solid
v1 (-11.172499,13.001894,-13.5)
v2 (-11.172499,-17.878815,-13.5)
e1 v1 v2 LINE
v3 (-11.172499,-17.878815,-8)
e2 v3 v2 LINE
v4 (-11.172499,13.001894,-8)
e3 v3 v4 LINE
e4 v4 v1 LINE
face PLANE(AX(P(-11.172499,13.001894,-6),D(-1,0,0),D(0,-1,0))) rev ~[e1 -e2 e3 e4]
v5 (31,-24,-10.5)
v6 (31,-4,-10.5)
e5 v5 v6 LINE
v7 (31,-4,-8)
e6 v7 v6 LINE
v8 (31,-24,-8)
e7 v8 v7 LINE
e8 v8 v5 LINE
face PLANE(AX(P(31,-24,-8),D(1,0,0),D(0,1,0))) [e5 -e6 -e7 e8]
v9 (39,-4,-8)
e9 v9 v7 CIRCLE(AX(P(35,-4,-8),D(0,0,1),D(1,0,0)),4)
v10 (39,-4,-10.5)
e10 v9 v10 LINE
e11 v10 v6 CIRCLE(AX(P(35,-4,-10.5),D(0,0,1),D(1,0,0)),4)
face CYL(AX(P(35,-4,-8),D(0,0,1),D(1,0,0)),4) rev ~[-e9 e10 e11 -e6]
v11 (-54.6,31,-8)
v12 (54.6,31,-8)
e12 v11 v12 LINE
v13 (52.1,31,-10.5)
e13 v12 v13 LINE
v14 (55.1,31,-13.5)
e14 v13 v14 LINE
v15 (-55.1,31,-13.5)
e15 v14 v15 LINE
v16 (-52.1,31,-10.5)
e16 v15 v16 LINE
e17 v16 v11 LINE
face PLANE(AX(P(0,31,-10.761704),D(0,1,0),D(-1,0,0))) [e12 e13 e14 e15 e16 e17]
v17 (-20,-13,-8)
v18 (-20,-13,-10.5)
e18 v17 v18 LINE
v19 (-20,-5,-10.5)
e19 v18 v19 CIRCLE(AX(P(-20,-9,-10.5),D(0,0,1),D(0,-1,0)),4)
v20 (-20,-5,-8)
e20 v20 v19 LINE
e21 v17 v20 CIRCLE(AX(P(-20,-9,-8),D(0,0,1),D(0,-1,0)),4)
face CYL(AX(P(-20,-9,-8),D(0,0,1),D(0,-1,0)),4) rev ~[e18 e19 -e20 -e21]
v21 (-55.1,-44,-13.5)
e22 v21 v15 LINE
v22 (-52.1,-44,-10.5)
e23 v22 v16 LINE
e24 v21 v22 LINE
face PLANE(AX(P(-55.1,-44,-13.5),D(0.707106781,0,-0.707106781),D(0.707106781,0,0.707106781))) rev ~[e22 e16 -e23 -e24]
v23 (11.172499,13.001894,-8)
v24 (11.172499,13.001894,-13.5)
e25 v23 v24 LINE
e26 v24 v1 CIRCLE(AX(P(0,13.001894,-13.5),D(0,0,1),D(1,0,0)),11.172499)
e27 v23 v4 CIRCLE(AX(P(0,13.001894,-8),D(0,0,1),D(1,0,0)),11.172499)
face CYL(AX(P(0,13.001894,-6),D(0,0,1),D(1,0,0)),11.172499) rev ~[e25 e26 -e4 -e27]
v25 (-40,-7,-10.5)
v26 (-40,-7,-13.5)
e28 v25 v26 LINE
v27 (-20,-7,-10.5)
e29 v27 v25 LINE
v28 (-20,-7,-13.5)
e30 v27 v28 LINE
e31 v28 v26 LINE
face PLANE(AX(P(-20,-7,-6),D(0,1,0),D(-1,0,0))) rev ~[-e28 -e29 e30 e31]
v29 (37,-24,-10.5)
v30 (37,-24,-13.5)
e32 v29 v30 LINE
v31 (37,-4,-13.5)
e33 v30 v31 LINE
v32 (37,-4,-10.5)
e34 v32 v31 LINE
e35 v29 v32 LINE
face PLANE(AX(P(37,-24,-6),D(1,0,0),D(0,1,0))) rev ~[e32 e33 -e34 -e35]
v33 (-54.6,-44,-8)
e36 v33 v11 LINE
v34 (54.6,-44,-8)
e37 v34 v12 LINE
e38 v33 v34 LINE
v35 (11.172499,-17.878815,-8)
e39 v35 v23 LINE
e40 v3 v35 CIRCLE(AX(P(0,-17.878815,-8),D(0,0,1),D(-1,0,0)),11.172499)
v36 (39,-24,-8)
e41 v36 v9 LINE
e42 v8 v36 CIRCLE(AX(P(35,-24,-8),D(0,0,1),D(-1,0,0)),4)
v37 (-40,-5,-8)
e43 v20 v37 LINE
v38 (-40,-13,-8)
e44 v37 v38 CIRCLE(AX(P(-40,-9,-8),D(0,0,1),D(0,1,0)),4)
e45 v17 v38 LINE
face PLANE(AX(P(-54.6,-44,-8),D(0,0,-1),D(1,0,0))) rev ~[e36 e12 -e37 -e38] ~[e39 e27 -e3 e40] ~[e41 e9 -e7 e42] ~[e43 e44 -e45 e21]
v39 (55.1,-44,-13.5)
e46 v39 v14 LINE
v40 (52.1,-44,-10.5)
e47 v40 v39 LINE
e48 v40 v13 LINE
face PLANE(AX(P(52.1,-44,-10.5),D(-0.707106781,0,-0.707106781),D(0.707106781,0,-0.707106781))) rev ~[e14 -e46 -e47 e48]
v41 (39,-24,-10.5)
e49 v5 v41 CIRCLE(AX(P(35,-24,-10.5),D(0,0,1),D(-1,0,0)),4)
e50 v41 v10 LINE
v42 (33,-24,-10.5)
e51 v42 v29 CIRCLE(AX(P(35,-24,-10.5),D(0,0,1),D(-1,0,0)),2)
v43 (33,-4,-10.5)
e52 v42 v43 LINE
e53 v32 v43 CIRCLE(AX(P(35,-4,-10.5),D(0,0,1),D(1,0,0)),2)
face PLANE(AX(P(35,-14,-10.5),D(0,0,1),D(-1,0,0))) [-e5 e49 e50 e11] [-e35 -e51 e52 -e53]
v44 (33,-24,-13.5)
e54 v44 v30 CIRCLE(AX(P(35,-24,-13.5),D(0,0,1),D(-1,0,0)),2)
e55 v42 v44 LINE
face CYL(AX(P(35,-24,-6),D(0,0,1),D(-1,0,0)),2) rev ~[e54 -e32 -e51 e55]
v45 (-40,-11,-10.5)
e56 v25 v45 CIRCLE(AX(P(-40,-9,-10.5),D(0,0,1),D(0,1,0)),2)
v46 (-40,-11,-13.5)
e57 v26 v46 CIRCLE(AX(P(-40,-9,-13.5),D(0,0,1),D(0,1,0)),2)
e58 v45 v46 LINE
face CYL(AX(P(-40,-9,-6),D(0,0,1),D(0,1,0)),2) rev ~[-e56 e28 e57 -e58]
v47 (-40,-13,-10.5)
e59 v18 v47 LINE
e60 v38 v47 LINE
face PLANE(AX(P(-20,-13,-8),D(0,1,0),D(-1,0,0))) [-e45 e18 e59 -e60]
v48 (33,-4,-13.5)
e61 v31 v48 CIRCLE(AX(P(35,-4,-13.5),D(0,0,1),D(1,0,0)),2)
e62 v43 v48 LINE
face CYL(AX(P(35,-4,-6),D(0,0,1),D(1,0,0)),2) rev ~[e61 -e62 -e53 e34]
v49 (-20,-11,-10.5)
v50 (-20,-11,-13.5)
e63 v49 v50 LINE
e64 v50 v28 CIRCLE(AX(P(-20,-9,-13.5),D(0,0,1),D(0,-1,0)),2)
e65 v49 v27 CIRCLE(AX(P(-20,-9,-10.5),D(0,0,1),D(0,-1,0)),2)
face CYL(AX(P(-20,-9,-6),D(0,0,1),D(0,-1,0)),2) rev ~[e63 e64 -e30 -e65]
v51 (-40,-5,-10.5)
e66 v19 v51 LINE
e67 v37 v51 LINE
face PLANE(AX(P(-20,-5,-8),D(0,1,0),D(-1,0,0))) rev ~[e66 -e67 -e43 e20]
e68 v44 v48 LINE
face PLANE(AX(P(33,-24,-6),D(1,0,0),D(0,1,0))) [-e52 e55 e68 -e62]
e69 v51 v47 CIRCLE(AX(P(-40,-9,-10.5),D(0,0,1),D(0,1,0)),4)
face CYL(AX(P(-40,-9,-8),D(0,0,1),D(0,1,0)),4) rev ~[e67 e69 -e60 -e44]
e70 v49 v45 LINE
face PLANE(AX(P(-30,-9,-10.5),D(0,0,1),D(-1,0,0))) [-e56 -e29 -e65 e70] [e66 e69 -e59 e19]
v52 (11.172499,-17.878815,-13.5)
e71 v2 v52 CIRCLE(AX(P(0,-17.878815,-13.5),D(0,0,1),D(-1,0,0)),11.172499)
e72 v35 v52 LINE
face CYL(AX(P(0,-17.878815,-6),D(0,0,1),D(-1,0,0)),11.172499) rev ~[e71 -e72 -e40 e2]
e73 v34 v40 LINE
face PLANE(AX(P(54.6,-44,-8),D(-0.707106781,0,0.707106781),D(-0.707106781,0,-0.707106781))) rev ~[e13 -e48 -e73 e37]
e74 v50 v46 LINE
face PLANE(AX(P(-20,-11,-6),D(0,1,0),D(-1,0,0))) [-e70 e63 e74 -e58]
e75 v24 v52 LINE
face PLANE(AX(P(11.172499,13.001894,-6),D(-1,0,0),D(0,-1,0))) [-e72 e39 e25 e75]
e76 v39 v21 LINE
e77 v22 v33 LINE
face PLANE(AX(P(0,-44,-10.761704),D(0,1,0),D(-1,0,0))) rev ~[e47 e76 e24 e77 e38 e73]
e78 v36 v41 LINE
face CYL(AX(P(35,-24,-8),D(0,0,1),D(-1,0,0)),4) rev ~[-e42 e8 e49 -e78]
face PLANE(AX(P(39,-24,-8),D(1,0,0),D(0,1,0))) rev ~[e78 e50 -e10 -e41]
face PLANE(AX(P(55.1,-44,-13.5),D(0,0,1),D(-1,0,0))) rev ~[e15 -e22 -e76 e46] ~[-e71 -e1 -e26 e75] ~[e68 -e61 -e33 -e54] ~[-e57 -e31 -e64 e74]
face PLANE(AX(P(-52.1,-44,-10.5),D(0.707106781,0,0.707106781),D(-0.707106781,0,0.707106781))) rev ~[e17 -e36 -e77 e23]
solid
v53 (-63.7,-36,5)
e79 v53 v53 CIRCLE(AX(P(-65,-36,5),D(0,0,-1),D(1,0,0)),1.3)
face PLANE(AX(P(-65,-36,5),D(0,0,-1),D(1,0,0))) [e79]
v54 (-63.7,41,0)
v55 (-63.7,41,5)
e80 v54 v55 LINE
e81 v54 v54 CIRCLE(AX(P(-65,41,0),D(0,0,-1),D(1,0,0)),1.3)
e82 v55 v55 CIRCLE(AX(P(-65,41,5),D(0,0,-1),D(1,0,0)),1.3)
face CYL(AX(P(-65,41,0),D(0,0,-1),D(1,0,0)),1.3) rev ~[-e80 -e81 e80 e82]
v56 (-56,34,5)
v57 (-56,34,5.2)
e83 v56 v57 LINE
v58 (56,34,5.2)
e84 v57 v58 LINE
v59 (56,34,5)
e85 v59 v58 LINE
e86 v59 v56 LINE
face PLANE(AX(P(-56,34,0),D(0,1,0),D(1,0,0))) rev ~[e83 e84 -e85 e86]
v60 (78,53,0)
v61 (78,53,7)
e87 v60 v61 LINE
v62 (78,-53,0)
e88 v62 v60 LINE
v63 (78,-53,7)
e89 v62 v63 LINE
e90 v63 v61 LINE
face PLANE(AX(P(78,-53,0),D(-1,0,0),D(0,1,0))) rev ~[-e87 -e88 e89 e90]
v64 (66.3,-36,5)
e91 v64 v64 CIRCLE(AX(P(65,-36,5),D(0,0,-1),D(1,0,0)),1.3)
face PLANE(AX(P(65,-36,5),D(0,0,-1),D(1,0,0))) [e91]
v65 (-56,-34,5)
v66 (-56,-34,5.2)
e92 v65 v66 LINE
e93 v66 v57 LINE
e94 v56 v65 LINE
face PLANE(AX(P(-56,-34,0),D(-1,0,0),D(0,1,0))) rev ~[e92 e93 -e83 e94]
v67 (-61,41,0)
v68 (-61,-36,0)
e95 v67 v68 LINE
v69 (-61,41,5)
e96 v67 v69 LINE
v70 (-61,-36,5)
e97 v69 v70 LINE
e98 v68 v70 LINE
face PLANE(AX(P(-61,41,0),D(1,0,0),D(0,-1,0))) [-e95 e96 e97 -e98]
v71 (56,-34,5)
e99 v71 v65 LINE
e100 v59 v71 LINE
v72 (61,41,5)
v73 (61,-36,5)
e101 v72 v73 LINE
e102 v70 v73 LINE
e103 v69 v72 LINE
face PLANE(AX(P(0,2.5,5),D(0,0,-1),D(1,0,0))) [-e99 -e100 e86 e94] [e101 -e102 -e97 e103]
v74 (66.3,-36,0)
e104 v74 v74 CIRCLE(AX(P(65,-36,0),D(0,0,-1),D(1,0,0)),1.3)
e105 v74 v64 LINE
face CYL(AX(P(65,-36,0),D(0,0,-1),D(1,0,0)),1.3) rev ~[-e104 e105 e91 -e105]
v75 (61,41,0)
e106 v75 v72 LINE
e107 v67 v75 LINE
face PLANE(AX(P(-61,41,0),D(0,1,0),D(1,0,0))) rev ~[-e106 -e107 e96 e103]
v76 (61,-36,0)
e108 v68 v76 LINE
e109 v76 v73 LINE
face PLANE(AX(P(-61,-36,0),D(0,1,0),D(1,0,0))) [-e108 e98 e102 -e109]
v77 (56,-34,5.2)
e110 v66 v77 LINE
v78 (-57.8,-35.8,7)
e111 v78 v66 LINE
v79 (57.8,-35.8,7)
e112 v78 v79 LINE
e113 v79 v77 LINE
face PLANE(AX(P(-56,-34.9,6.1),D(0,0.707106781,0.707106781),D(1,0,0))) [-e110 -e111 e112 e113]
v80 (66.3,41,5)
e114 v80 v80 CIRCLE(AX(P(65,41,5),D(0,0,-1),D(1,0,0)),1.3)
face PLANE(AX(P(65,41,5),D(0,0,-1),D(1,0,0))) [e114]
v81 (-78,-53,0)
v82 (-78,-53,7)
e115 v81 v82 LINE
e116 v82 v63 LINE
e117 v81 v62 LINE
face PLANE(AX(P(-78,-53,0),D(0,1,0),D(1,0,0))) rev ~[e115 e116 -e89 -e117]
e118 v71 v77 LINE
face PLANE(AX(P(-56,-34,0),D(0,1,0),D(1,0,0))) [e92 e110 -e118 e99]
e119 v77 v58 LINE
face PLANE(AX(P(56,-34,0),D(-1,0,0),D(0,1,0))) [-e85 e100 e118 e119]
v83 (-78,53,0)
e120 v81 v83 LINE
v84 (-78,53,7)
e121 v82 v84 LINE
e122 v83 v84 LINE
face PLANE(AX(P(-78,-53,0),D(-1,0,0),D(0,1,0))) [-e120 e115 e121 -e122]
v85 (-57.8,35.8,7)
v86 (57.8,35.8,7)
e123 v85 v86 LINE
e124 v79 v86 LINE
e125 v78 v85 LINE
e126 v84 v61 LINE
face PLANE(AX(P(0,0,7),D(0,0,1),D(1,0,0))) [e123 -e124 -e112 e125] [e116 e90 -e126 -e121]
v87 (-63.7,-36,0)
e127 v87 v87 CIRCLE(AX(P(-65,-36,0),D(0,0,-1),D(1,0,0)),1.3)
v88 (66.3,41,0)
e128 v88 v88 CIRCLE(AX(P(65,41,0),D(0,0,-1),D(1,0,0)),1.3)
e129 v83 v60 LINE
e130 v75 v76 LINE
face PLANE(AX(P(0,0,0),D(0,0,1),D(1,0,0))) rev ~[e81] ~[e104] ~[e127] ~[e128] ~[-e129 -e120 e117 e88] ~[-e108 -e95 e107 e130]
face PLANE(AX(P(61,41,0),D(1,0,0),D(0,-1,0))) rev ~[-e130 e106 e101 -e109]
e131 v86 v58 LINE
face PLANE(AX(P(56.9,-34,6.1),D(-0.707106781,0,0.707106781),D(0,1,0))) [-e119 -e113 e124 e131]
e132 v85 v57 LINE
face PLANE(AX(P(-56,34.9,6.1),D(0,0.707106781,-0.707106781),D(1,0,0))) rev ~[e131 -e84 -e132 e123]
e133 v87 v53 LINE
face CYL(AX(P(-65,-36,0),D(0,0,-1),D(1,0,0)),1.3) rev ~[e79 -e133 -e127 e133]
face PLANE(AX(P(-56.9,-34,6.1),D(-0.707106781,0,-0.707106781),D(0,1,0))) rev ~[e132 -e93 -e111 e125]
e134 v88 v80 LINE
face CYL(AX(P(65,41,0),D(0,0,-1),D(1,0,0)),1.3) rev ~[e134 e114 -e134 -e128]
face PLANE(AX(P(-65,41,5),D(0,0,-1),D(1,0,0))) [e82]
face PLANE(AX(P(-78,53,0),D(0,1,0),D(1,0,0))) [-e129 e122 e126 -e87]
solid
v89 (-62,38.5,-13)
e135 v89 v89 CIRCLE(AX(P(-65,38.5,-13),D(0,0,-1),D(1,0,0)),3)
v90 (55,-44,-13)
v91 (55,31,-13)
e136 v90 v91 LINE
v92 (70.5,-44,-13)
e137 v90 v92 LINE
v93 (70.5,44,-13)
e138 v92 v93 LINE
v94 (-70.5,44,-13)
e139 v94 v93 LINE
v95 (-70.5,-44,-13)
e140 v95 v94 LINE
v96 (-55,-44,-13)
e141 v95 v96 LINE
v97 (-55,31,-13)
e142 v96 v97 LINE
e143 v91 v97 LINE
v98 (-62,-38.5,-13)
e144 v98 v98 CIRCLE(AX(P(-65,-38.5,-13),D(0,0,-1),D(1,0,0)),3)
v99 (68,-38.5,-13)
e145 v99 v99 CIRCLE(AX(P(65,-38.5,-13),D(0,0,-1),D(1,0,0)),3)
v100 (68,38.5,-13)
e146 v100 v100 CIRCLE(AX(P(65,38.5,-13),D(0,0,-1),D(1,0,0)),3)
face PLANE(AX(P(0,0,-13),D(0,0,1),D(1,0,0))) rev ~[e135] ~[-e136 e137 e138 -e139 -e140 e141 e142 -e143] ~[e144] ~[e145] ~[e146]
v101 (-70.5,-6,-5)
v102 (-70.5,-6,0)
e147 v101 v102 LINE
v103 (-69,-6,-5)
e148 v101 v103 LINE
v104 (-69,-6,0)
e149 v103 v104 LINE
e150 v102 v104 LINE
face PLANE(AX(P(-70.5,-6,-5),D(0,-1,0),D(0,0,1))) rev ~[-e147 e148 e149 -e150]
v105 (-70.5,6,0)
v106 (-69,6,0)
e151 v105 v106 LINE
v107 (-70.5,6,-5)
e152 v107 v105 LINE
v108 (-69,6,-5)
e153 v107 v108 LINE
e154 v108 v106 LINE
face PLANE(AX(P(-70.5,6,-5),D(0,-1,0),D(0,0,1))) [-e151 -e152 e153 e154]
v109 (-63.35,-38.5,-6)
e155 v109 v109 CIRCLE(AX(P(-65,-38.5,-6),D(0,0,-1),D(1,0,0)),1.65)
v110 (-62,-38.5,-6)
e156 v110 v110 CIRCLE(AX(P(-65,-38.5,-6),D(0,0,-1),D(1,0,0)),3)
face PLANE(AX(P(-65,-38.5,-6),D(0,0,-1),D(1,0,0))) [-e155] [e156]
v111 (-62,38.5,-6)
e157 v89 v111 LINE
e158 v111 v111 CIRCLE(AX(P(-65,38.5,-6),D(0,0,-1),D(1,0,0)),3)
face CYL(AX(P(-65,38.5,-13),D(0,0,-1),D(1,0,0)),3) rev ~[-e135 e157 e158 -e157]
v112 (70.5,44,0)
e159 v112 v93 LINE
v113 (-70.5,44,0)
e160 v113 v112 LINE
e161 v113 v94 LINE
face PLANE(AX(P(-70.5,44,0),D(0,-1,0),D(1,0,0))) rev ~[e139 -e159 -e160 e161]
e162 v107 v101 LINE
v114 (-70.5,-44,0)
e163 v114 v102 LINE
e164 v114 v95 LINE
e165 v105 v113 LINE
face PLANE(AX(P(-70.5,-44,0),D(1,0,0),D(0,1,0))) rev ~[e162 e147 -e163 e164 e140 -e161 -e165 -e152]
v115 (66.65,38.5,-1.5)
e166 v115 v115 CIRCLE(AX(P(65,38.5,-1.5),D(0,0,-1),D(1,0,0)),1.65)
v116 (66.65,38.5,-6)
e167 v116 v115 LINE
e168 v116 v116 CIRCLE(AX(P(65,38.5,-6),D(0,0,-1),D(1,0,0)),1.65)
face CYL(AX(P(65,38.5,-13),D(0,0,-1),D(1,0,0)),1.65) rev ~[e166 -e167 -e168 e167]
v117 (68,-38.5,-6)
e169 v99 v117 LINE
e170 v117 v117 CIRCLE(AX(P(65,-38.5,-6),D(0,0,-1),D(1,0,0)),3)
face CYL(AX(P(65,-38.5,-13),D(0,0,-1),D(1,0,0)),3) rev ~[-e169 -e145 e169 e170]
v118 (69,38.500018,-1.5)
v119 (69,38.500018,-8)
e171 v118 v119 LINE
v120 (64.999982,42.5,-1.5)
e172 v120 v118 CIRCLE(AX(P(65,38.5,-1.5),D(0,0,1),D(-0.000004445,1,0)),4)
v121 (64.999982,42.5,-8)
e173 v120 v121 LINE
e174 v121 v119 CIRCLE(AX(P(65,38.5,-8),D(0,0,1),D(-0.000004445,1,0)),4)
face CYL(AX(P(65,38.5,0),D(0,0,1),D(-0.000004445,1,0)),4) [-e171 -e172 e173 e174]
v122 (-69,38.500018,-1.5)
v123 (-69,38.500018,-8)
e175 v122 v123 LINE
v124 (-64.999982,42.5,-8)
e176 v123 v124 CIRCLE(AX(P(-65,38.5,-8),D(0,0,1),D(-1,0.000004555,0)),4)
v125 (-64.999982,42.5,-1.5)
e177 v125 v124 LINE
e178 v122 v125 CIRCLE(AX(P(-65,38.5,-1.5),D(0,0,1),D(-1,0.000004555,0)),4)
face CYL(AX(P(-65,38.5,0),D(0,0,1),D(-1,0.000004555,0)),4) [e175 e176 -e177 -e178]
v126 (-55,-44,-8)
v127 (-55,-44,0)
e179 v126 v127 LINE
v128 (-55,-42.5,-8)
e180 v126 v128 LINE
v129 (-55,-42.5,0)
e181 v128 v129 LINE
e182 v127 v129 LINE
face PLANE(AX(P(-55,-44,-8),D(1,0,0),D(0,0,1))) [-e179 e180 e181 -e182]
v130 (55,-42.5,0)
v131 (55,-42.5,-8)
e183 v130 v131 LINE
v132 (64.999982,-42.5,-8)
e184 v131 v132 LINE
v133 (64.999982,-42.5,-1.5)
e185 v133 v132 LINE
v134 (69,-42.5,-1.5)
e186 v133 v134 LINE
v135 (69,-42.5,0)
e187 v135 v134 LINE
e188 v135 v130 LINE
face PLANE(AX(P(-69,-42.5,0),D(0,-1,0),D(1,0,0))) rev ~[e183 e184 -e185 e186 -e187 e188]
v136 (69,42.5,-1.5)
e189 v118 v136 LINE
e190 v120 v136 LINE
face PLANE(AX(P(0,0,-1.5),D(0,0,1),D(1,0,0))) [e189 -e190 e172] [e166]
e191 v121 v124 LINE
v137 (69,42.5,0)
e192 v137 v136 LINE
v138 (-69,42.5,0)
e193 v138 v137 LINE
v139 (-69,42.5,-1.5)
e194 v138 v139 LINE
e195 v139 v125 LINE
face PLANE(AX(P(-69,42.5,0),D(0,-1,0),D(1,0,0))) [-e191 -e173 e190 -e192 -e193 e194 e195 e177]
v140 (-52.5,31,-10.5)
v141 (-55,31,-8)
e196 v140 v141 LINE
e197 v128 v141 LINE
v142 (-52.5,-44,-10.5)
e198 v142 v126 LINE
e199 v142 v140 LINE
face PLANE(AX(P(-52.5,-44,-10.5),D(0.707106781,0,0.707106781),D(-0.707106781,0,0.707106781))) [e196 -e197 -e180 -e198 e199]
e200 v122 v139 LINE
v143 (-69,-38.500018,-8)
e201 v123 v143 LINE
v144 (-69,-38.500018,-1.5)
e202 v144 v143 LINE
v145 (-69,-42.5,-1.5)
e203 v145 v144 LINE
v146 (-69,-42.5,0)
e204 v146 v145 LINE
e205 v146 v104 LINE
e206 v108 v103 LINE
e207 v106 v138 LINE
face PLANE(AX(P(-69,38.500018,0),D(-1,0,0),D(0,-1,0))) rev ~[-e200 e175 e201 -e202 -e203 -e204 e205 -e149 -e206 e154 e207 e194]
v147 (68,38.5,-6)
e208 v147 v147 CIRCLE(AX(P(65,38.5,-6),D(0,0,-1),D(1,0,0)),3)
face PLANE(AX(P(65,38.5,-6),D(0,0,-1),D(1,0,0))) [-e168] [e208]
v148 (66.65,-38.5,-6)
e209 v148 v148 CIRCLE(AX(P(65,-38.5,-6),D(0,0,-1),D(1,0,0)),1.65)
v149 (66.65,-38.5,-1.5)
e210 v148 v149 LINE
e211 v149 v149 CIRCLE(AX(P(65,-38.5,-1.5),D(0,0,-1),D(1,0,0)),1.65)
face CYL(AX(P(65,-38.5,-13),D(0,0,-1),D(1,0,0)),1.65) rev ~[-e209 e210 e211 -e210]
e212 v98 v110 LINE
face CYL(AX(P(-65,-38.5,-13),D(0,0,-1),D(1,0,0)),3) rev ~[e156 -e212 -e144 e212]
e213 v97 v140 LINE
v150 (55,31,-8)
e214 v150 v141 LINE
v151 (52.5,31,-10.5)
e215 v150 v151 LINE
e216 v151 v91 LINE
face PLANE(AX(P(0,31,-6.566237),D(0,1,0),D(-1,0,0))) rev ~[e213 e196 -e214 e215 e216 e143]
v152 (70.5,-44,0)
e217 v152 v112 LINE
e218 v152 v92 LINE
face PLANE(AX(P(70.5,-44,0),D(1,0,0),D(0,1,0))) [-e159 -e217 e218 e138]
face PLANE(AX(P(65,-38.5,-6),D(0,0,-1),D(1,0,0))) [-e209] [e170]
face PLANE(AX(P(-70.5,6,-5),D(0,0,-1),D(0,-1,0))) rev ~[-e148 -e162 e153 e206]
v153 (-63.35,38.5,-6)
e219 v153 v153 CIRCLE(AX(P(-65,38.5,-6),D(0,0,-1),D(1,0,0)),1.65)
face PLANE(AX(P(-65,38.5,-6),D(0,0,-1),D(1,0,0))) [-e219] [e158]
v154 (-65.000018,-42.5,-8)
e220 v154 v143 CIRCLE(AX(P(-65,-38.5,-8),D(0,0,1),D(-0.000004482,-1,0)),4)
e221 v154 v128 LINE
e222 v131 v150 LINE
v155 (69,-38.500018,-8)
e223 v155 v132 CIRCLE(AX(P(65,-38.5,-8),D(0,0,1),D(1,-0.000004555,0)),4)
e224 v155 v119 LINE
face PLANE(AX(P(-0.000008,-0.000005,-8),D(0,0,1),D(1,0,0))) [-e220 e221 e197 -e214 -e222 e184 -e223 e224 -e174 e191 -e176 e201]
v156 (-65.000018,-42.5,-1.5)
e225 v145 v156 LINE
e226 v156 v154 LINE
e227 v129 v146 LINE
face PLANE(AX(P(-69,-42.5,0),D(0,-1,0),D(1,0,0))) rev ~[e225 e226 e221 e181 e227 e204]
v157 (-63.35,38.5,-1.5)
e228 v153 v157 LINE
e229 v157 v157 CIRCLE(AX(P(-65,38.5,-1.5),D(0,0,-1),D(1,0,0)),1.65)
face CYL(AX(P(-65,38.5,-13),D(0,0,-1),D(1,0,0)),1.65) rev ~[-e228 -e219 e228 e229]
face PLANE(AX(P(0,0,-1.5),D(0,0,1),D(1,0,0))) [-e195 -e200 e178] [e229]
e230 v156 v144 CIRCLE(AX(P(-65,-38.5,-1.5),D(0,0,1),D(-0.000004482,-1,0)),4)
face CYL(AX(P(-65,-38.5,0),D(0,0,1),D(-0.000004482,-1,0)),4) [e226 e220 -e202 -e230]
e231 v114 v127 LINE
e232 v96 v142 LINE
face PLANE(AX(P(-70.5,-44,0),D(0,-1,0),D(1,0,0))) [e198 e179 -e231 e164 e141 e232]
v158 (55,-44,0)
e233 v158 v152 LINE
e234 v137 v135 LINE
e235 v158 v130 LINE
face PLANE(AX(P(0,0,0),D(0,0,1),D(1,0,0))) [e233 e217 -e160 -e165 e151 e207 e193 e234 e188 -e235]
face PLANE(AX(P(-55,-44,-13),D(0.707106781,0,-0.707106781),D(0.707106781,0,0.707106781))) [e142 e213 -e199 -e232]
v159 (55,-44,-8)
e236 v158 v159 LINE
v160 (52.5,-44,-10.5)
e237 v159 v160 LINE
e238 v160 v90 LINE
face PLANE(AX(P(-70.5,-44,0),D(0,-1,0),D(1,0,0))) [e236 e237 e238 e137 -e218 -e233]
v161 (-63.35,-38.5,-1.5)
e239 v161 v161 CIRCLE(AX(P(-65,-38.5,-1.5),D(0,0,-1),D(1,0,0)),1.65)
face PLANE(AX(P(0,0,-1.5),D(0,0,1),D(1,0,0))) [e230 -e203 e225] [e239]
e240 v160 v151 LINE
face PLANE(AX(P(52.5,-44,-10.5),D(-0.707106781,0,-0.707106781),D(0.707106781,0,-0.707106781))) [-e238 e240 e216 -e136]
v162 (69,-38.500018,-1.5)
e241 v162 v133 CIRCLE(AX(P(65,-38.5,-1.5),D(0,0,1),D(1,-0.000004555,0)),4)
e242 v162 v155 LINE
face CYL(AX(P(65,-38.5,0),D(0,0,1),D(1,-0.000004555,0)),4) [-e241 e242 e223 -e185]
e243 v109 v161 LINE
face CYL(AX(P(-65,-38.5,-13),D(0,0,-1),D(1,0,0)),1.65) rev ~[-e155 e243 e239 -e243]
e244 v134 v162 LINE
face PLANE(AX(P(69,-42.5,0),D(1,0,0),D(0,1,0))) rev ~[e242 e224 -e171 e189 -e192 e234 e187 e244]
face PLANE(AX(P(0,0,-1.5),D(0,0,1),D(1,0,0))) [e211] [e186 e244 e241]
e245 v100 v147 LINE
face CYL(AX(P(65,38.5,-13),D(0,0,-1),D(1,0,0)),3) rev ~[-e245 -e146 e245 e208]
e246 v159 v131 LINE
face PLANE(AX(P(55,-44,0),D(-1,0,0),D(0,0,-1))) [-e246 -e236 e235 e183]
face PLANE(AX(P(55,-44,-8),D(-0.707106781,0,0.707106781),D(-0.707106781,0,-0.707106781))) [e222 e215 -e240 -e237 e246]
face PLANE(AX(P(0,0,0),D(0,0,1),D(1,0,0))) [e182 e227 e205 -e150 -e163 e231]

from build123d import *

# Parameters (mm, degrees)
SKETCH_W        = 156
SKETCH_H        = 106
SKETCH_W_2      = 112
SKETCH_H_2      = 68
PAD_DEPTH       = 7
SKETCH002_R     = 1.3
SKETCH002_W     = 122
SKETCH002_H     = 77
POCKET_DEPTH    = 5
CHAMFER_SIZE    = 1.8
SKETCH004_W     = 141
SKETCH004_H     = 88
PAD001_DEPTH    = 13
POCKET001_DEPTH = 8
SKETCH005_W     = 138
SKETCH005_H     = 85
POCKET002_DEPTH = 1.5
SKETCH006_R     = 1.65
POCKET003_DEPTH = 13.001
SKETCH007_R     = 3
POCKET004_DEPTH = 7
POCKET006_DEPTH = 75
SKETCH010_W     = 12
SKETCH010_H     = 5
POCKET007_DEPTH = 1.5
PAD002_DEPTH    = 75
POCKET008_DEPTH = 2.5
POCKET009_DEPTH = 7.501


with BuildPart() as front:
    # Sketch → Pad (new body)
    with BuildSketch(Plane.XY):
        Rectangle(SKETCH_W, SKETCH_H)
        Rectangle(SKETCH_W_2, SKETCH_H_2, mode=Mode.SUBTRACT)
    extrude(amount=PAD_DEPTH)

    # Sketch002 (on Face9 of Pad) → Pocket (cut)
    with BuildSketch(Plane(origin=(0, 0, 0), x_dir=(1, 0, 0), z_dir=(0, 0, -1))):
        with Locations((-65, 36)):
            Circle(SKETCH002_R)
        with Locations((65, 36)):
            Circle(SKETCH002_R)
        with Locations((-65, -41)):
            Circle(SKETCH002_R)
        with Locations((65, -41)):
            Circle(SKETCH002_R)
        with Locations((0, -2.5)):
            Rectangle(SKETCH002_W, SKETCH002_H)
    extrude(amount=-POCKET_DEPTH, mode=Mode.SUBTRACT)

    # Chamfer
    chamfer_edges = [front.edges().sort_by_distance(p)[0] for p in [
        (-56, 0, 7),
        (0, 34, 7),
        (56, 0, 7),
        (0, -34, 7),
    ]]
    chamfer(chamfer_edges, length=CHAMFER_SIZE)


with BuildPart() as back:
    # Sketch004 → Pad001 (new body)
    with BuildSketch(Plane.XY):
        Rectangle(SKETCH004_W, SKETCH004_H)
    extrude(amount=-PAD001_DEPTH)

    # Sketch003 (on Face5 of Pad001) → Pocket001 (cut)
    with BuildSketch(Plane.XY):
        with BuildLine():
            Line((-69, 38.500018), (-69, -38.500018))
            ThreePointArc((-65.000018, -42.5), (-62.171573, -35.671573), (-69, -38.500018))
            Line((-65.000018, -42.5), (64.999982, -42.5))
            ThreePointArc((69, -38.500018), (62.171585, -35.67156), (64.999982, -42.5))
            Line((69, -38.500018), (69, 38.500018))
            ThreePointArc((64.999982, 42.5), (62.171585, 35.67156), (69, 38.500018))
            Line((64.999982, 42.5), (-64.999982, 42.5))
            ThreePointArc((-69, 38.500018), (-62.171585, 35.67156), (-64.999982, 42.5))
        make_face()
    extrude(amount=-POCKET001_DEPTH, mode=Mode.SUBTRACT)

    # Sketch005 (on Face5 of Pad001) → Pocket002 (cut)
    with BuildSketch(Plane.XY):
        Rectangle(SKETCH005_W, SKETCH005_H)
    extrude(amount=-POCKET002_DEPTH, mode=Mode.SUBTRACT)

    # Sketch006 (on Face5 of Pocket002) → Pocket003 (cut, through all)
    with BuildSketch(Plane(origin=(0, 0, -13), x_dir=(1, 0, 0), z_dir=(0, 0, -1))):
        with Locations((-65, 38.5)):
            Circle(SKETCH006_R)
        with Locations((65, 38.5)):
            Circle(SKETCH006_R)
        with Locations((65, -38.5)):
            Circle(SKETCH006_R)
        with Locations((-65, -38.5)):
            Circle(SKETCH006_R)
    extrude(amount=-POCKET003_DEPTH, mode=Mode.SUBTRACT)

    # Sketch007 (on Face5 of Pocket002) → Pocket004 (cut)
    with BuildSketch(Plane(origin=(0, 0, -13), x_dir=(1, 0, 0), z_dir=(0, 0, -1))):
        with Locations((-65, 38.5)):
            Circle(SKETCH007_R)
        with Locations((65, 38.5)):
            Circle(SKETCH007_R)
        with Locations((65, -38.5)):
            Circle(SKETCH007_R)
        with Locations((-65, -38.5)):
            Circle(SKETCH007_R)
    extrude(amount=-POCKET004_DEPTH, mode=Mode.SUBTRACT)

    # Sketch009 → Pocket006 (cut)
    with BuildSketch(Plane.XZ.offset(44)):
        Polygon((-52.5, -10.5), (-55, -8), (-55, 0), (55, 0), (55, -8), (52.5, -10.5), (55, -13), (-55, -13), align=None)
    extrude(amount=-POCKET006_DEPTH, mode=Mode.SUBTRACT)

    # Sketch010 (on Face2 of Pocket006) → Pocket007 (cut)
    with BuildSketch(Plane(origin=(-70.5, 0, 0), x_dir=(0, -1, 0), z_dir=(-1, 0, 0))):
        with Locations((0, -2.5)):
            Rectangle(SKETCH010_W, SKETCH010_H)
    extrude(amount=-POCKET007_DEPTH, mode=Mode.SUBTRACT)


with BuildPart() as mount:
    # Sketch011 → Pad002 (new body)
    with BuildSketch(Plane.XZ.offset(44)):
        Polygon((-54.6, -8), (54.6, -8), (52.1, -10.5), (55.1, -13.5), (-55.1, -13.5), (-52.1, -10.5), align=None)
    extrude(amount=-PAD002_DEPTH)

    # Sketch012 (on Face2 of Pad002) → Pocket008 (cut)
    with BuildSketch(Plane(origin=(0, -44, -8), x_dir=(-1, 0, 0), z_dir=(0, 0, 1))):
        with BuildLine():
            ThreePointArc((-31, -20), (-35, -16), (-39, -20))
            Line((-39, -20), (-39, -40))
            ThreePointArc((-39, -40), (-35, -44), (-31, -40))
            Line((-31, -20), (-31, -40))
        make_face()
        with BuildLine():
            ThreePointArc((20, -31), (16, -35), (20, -39))
            Line((20, -39), (40, -39))
            ThreePointArc((40, -39), (44, -35), (40, -31))
            Line((20, -31), (40, -31))
        make_face()
    extrude(amount=-POCKET008_DEPTH, mode=Mode.SUBTRACT)

    # Sketch013 → Pocket009 (cut, through all)
    with BuildSketch(Plane(origin=(0, -44, -6), x_dir=(-1, 0, 0), z_dir=(0, 0, 1))):
        with BuildLine():
            ThreePointArc((-33, -20), (-35, -18), (-37, -20))
            Line((-37, -20), (-37, -40))
            ThreePointArc((-37, -40), (-35, -42), (-33, -40))
            Line((-33, -20), (-33, -40))
        make_face()
        with BuildLine():
            ThreePointArc((20, -33), (18, -35), (20, -37))
            Line((20, -37), (40, -37))
            ThreePointArc((40, -37), (42, -35), (40, -33))
            Line((20, -33), (40, -33))
        make_face()
        with BuildLine():
            ThreePointArc((-11.172499, -57.001894), (0, -68.174393), (11.172499, -57.001894))
            Line((11.172499, -57.001894), (11.172499, -26.121185))
            ThreePointArc((11.172499, -26.121185), (0, -14.948686), (-11.172499, -26.121185))
            Line((-11.172499, -57.001894), (-11.172499, -26.121185))
        make_face()
    extrude(amount=-POCKET009_DEPTH, mode=Mode.SUBTRACT)


solid = Compound([front.part, back.part, mount.part])
